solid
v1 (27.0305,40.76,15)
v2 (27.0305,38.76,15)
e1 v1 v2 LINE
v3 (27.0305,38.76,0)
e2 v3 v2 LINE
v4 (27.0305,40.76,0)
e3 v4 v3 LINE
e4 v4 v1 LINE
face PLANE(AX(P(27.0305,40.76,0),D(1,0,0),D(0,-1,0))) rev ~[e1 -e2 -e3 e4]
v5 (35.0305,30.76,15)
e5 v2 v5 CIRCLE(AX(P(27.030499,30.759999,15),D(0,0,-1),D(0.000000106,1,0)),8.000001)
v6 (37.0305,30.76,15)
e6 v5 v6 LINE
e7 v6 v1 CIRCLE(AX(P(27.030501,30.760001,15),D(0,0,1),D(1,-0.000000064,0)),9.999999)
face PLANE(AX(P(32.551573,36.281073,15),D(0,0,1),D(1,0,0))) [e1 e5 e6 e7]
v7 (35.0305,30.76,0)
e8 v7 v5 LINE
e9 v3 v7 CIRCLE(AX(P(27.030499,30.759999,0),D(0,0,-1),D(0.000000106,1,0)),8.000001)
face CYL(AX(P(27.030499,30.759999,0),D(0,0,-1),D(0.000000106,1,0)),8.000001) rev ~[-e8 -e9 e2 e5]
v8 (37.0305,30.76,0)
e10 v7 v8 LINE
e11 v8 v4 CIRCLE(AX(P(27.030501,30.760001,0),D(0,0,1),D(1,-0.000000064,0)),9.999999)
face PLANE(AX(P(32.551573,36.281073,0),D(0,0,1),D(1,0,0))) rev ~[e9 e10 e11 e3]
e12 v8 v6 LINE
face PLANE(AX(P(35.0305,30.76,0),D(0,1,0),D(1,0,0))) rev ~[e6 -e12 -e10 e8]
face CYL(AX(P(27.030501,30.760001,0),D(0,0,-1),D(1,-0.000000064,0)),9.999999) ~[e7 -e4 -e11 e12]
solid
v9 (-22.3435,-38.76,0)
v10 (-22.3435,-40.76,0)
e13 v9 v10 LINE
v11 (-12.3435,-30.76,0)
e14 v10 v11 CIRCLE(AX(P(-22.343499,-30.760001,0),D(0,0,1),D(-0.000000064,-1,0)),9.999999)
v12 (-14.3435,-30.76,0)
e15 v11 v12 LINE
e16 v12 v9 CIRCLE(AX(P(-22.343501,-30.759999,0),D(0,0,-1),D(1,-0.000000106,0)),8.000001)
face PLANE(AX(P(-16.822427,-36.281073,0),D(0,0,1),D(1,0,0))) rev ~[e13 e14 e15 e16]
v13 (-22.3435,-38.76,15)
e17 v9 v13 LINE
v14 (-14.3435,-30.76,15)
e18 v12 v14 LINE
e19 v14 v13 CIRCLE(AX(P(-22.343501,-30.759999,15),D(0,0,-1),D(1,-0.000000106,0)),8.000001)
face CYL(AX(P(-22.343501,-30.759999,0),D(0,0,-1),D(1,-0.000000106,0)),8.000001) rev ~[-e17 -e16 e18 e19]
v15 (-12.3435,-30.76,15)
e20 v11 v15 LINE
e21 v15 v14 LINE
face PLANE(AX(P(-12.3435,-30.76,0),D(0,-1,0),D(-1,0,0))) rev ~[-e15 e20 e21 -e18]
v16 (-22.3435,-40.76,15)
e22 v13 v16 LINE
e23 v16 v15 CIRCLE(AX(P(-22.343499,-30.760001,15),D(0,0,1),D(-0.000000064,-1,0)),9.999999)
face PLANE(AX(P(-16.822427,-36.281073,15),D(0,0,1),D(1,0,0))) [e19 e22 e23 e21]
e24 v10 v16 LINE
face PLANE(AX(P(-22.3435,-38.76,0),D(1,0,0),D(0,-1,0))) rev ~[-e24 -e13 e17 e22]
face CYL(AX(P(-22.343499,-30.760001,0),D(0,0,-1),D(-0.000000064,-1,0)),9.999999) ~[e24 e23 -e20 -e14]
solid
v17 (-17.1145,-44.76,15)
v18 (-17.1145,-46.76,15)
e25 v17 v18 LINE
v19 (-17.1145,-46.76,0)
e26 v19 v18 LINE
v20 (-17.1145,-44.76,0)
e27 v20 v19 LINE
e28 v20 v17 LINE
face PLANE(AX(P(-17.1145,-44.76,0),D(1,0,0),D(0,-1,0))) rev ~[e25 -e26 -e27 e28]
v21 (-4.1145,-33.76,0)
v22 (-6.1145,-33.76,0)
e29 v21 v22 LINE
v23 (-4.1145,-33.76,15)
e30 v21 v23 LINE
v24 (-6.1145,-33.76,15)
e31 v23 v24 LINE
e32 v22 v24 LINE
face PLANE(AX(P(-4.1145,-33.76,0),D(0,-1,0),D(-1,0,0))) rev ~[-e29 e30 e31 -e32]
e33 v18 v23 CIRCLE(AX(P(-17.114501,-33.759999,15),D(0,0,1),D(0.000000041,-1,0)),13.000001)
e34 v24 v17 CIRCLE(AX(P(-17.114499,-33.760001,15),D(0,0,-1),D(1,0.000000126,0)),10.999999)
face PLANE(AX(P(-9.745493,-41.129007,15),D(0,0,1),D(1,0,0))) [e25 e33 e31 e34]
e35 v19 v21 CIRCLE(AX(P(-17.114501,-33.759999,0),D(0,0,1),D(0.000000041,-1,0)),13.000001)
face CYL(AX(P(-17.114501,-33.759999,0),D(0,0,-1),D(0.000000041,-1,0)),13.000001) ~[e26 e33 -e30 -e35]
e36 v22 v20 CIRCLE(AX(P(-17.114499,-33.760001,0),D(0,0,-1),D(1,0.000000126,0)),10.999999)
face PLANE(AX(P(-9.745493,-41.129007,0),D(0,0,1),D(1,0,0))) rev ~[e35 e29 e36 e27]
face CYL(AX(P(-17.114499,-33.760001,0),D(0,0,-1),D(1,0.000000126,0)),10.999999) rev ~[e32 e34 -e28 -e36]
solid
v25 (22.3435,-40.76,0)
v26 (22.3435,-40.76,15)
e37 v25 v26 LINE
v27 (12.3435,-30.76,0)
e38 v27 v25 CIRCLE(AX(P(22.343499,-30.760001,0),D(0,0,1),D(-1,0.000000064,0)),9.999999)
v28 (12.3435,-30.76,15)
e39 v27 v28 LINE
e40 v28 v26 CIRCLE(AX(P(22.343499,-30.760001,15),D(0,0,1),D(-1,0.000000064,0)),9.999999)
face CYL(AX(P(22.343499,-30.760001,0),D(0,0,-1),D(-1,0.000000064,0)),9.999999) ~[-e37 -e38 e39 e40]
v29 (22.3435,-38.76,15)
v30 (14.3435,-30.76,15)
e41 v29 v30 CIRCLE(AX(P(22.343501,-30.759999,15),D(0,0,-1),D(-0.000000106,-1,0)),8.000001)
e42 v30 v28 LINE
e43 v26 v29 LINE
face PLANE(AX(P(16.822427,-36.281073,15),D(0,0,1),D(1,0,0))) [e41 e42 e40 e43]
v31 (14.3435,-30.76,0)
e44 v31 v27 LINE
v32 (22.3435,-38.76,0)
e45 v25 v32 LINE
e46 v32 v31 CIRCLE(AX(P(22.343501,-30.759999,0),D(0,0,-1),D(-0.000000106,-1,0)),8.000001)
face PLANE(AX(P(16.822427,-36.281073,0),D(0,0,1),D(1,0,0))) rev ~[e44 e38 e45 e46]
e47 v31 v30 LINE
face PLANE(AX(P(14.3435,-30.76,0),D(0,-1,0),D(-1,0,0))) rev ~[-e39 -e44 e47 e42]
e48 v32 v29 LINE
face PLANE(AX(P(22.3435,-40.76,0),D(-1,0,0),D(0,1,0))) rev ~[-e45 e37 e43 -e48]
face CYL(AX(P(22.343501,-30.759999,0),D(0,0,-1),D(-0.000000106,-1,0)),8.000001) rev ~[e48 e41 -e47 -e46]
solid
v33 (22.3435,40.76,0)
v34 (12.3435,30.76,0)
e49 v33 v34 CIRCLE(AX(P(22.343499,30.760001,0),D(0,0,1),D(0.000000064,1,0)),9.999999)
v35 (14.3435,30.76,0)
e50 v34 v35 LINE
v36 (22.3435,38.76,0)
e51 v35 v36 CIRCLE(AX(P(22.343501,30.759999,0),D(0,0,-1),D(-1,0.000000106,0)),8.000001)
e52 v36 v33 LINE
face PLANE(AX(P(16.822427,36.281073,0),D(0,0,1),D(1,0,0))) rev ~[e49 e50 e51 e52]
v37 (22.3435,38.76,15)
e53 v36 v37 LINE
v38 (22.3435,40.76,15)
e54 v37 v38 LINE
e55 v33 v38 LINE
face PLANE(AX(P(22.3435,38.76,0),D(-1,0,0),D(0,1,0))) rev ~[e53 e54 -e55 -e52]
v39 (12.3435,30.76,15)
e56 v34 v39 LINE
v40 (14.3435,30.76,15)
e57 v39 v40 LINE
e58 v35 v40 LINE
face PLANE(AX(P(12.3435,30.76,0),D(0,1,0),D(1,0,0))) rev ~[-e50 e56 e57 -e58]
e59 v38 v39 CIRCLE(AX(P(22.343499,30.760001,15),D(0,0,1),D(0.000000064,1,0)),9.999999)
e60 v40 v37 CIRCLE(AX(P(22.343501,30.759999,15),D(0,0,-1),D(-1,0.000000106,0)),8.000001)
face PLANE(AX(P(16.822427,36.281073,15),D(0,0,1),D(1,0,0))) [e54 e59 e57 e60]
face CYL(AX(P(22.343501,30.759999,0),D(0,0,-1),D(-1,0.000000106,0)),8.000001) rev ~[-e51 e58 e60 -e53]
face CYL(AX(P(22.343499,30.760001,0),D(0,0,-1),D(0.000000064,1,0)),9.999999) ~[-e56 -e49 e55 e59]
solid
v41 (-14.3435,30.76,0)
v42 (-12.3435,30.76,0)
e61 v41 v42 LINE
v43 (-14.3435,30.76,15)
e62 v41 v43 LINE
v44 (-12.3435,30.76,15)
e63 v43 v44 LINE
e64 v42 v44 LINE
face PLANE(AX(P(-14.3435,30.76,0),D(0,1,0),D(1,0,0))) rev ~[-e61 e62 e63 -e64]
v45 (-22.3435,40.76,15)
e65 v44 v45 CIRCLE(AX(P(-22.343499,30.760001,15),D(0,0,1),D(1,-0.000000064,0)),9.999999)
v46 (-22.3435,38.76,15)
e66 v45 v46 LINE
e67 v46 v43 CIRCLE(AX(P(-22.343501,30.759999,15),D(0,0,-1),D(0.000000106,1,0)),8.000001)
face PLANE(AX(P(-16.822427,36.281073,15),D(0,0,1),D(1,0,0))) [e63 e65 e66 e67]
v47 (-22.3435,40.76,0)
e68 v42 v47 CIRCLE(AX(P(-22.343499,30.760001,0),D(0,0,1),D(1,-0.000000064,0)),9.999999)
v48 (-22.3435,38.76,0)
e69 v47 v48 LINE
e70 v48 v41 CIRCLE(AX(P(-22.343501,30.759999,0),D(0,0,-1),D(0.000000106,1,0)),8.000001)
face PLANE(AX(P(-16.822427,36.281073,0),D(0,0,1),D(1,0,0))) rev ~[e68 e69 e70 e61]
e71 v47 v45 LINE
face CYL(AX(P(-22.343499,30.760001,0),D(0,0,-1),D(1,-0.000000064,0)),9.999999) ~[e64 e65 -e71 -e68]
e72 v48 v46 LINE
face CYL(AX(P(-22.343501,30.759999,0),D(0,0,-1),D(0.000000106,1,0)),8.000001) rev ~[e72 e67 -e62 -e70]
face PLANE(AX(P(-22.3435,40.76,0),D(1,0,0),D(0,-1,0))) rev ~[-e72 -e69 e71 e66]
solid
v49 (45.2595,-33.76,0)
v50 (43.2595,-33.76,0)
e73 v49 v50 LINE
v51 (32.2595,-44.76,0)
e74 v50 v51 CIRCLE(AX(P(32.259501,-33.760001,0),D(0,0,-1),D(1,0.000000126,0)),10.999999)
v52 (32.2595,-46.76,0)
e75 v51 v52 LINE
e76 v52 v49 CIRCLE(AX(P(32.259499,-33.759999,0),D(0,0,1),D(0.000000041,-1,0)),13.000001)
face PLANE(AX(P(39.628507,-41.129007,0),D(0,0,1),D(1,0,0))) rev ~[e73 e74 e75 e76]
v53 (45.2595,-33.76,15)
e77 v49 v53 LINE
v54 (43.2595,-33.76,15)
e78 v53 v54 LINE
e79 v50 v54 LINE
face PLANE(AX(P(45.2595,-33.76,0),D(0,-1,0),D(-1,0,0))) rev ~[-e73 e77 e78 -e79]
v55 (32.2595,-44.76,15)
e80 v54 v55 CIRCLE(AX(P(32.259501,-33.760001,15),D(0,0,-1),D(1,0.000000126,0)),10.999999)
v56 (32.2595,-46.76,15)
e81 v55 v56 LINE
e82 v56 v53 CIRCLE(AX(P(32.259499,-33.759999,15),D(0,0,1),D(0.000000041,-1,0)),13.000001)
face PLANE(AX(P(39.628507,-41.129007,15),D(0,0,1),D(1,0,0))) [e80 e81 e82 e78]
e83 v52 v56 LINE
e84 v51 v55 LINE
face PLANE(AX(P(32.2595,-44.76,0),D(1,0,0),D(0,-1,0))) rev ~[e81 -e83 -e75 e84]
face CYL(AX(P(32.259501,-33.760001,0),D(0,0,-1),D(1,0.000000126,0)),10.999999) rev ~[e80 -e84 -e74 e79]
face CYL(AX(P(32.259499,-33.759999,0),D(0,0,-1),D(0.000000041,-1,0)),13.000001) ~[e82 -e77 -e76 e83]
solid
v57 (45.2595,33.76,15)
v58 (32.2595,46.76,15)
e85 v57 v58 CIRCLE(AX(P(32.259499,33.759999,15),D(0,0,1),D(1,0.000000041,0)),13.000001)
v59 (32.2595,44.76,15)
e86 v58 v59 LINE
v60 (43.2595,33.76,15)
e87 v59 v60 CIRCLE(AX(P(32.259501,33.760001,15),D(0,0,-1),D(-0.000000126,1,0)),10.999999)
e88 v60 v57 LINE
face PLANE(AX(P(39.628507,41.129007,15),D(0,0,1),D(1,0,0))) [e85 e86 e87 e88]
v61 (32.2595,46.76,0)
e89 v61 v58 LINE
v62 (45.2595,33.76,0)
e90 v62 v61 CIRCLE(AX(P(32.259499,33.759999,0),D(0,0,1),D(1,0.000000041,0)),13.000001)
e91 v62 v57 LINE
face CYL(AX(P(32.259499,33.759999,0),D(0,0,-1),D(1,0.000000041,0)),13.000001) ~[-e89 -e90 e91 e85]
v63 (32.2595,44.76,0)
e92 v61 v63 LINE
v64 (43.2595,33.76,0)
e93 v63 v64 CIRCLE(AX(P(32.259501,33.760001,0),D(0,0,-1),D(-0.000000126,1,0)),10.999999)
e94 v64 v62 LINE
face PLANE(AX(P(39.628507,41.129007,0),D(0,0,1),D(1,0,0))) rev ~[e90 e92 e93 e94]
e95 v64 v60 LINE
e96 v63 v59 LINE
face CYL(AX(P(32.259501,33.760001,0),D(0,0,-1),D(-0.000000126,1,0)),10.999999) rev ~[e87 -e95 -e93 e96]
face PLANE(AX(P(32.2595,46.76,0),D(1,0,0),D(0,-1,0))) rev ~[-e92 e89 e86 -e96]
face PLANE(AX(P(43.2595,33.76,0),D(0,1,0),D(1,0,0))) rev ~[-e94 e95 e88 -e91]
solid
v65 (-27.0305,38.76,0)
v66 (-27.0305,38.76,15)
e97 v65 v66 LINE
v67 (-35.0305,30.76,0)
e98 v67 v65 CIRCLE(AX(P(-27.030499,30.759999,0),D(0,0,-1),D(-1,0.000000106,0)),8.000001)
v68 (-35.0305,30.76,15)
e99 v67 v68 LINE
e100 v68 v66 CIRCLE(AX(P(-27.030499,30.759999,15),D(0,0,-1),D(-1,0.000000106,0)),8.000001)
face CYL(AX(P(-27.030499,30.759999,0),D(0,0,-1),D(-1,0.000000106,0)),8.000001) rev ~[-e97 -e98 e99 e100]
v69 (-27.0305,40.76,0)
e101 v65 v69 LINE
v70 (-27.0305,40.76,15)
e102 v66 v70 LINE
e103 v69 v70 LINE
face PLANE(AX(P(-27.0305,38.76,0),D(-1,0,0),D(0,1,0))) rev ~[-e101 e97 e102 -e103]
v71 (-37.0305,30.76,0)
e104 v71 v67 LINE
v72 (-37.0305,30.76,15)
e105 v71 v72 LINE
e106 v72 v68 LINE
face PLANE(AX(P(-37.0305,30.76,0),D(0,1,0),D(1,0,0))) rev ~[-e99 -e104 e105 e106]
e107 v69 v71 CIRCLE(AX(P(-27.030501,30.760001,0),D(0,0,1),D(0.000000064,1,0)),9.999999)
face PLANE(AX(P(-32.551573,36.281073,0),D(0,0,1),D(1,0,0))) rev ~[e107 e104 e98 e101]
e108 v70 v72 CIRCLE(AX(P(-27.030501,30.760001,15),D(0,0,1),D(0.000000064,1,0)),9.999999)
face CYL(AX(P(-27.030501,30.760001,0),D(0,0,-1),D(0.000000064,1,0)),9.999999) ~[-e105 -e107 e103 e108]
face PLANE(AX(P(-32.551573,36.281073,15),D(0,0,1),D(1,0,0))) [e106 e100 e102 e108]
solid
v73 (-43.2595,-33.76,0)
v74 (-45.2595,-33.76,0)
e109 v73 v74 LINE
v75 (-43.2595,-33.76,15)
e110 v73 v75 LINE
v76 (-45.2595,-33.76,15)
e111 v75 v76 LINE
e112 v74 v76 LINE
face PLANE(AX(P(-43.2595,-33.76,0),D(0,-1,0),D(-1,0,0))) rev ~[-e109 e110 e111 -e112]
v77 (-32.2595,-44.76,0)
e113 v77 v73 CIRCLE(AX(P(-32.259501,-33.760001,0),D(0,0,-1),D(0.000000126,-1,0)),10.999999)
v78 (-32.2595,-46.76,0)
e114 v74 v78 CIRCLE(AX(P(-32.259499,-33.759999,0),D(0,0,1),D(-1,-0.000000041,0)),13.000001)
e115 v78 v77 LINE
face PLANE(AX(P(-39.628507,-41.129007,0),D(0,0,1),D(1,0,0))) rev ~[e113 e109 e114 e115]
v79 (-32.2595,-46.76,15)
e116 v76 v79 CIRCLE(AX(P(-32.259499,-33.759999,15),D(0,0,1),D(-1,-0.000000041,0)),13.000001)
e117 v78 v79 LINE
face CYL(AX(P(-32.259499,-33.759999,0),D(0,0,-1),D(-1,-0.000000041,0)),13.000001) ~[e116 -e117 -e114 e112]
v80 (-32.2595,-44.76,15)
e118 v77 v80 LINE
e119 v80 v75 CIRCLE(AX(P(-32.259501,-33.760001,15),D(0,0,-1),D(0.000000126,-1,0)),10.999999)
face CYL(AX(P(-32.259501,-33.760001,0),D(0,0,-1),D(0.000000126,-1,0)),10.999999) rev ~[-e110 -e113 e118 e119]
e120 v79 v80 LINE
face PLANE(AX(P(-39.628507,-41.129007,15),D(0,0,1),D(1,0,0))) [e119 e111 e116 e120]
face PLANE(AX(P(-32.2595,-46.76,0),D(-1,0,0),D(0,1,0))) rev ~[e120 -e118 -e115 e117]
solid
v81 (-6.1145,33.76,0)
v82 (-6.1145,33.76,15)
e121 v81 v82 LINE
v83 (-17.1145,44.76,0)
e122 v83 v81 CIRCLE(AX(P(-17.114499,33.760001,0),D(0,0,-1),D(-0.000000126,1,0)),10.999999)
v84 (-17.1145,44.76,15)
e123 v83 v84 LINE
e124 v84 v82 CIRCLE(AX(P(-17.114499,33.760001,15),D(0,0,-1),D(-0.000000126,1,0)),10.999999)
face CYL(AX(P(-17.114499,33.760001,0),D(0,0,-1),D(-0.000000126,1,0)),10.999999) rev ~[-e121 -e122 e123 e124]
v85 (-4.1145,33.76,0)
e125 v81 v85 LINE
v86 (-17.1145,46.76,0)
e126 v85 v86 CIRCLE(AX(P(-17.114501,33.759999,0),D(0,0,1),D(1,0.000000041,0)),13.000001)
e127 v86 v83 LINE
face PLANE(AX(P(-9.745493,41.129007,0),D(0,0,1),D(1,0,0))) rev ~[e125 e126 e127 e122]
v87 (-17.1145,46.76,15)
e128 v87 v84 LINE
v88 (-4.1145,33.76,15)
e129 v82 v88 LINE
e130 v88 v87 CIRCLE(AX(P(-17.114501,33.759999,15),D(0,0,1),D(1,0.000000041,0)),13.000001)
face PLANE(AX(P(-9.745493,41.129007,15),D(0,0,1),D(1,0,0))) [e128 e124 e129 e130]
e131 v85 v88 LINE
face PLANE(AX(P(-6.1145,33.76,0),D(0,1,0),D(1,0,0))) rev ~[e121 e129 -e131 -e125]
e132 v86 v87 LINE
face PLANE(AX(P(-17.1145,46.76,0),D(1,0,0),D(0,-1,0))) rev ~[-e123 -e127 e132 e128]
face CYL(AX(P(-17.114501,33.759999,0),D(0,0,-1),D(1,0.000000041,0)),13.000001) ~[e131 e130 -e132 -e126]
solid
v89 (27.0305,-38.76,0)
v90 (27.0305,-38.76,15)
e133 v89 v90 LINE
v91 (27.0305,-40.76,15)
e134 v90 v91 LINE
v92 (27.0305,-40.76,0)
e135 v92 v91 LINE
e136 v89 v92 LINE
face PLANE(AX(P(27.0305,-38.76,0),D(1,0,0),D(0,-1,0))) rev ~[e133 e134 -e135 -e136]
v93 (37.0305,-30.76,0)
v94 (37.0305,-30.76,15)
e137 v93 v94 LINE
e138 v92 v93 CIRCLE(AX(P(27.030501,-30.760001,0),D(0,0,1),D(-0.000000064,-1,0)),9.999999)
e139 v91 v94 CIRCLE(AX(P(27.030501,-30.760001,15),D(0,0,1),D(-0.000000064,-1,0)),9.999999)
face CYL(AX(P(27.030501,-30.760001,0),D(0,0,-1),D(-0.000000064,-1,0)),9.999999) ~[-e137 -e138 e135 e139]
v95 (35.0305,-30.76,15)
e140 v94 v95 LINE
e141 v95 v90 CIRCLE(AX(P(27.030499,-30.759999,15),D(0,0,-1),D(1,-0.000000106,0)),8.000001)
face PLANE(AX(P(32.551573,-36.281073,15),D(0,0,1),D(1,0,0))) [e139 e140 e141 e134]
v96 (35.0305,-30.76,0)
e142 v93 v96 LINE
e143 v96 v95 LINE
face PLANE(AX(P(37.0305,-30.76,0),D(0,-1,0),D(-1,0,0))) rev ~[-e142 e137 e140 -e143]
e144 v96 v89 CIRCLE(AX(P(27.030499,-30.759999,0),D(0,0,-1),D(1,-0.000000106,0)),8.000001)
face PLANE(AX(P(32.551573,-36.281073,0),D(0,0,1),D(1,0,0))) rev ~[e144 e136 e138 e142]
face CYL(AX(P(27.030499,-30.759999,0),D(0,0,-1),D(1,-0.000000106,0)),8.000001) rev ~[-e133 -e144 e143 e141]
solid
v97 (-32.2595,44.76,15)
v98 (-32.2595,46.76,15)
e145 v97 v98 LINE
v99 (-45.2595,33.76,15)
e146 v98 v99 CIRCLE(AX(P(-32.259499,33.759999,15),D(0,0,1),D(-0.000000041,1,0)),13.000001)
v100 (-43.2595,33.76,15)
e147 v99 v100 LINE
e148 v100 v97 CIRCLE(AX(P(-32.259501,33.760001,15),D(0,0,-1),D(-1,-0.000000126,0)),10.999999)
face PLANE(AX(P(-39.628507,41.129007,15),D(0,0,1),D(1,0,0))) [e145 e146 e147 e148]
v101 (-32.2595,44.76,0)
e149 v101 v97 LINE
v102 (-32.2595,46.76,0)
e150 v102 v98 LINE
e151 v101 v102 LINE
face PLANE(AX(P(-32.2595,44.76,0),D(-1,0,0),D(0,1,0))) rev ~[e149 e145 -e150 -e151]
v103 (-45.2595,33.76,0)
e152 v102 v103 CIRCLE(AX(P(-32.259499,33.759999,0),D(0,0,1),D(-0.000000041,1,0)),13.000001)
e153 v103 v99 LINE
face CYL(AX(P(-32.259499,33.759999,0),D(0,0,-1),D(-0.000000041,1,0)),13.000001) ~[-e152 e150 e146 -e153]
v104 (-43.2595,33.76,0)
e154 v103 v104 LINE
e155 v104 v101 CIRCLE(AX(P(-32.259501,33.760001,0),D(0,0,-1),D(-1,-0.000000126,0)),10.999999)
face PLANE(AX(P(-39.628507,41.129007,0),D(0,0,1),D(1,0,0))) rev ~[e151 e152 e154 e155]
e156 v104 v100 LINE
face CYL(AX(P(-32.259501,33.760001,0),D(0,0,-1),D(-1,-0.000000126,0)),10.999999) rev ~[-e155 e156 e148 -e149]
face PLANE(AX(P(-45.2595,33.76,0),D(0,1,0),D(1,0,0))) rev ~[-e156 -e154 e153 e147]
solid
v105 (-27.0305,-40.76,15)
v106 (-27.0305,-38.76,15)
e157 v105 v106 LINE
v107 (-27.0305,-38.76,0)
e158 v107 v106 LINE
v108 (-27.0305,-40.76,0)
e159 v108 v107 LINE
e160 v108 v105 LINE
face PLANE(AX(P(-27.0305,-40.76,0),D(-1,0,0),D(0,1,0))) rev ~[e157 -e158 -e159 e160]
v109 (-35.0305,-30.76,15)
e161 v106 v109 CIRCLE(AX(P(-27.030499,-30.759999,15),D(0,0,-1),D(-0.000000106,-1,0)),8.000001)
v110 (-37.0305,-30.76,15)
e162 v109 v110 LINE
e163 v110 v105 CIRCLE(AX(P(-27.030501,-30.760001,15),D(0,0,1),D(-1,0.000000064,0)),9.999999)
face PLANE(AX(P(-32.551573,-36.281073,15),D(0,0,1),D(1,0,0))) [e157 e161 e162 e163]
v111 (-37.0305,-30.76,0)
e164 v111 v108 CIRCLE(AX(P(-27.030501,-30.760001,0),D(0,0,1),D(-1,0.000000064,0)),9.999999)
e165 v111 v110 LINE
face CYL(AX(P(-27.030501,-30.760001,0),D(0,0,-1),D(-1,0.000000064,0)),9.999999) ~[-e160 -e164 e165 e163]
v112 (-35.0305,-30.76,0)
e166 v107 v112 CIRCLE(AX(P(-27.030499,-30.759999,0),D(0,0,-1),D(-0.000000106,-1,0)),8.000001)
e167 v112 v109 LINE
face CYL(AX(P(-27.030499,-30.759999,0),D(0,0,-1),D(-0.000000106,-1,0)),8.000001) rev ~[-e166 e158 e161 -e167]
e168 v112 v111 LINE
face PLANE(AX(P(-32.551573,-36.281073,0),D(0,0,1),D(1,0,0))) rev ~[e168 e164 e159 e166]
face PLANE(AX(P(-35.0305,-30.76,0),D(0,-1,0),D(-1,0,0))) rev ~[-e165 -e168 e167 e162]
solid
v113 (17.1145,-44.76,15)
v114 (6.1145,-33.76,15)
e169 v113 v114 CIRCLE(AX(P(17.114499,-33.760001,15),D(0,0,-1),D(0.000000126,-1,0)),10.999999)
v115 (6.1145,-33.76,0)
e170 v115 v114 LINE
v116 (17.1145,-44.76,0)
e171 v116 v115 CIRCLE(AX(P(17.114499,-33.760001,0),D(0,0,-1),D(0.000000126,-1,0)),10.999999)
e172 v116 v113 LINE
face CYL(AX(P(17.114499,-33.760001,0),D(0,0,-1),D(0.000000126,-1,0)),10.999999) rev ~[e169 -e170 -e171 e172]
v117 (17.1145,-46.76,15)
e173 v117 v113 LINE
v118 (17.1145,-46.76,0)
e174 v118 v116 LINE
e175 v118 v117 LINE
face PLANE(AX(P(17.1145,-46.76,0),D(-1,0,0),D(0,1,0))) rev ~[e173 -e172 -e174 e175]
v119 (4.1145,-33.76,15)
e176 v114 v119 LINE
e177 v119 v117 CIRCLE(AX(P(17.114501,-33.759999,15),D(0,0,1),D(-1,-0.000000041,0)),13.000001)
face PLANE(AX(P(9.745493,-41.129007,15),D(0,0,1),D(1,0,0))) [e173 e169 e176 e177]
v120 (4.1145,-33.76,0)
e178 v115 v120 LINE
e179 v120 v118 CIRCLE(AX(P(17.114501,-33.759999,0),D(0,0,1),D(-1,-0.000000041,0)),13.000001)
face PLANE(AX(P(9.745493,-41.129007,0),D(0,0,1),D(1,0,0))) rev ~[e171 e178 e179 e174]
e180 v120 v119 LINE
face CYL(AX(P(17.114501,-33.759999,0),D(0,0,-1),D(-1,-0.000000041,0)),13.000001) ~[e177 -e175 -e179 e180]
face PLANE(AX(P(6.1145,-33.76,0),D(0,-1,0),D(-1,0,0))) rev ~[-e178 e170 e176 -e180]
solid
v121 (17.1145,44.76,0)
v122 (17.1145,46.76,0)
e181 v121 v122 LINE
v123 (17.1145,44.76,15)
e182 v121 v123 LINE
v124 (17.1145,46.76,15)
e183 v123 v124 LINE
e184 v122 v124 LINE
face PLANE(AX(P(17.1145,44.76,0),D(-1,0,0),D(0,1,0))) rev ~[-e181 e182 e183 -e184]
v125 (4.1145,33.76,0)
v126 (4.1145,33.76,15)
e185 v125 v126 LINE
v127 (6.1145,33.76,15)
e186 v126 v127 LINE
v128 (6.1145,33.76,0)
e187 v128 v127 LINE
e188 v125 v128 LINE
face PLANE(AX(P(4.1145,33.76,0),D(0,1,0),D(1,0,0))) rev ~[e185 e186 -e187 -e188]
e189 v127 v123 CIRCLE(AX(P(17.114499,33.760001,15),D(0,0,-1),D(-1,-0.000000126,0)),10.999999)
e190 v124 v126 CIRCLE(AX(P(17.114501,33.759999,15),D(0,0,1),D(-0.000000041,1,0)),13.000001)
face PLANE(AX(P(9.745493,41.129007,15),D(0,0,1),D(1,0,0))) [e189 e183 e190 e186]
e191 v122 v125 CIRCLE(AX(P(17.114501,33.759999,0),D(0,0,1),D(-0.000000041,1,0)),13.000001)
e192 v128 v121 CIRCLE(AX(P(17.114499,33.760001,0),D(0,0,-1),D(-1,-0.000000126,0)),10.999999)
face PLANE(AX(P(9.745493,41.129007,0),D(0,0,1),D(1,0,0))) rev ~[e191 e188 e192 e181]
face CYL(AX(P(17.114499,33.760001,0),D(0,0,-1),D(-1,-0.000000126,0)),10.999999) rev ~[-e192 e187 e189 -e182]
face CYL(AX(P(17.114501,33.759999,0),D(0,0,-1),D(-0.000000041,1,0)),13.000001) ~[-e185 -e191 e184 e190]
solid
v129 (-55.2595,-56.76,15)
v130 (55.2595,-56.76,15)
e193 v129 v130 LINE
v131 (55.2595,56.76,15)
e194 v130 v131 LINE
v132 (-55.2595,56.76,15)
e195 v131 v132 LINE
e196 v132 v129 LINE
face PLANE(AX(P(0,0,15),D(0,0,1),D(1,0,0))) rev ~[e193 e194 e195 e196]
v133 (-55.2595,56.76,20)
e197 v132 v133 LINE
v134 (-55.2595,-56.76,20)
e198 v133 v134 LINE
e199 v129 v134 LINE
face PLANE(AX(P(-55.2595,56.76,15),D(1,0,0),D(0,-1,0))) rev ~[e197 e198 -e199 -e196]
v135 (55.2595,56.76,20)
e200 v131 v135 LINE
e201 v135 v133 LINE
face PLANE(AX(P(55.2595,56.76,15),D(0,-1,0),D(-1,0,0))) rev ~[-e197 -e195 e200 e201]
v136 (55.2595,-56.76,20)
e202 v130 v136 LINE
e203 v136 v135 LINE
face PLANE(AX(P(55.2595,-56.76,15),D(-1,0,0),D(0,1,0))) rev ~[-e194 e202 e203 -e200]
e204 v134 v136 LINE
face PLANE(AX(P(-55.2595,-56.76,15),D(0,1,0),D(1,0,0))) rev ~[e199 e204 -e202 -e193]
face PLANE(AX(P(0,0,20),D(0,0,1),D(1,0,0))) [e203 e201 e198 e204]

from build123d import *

# Parameters (mm, degrees)
F1_DEPTH = 15
F3_DEPTH = 5


with BuildPart() as f1:
    # F0 (on Top) → F1 (new body)
    with BuildSketch(Plane.XY):
        with BuildLine():
            Line((22.3435, 38.76), (22.3435, 40.76))
            ThreePointArc((22.3435, 40.76), (15.272432, 37.831068), (12.3435, 30.76))
            Line((12.3435, 30.76), (14.3435, 30.76))
            ThreePointArc((14.3435, 30.76), (16.686646, 36.416854), (22.3435, 38.76))
        make_face()
        with BuildLine():
            Line((35.0305, 30.76), (37.0305, 30.76))
            ThreePointArc((37.0305, 30.76), (34.101568, 37.831068), (27.0305, 40.76))
            Line((27.0305, 40.76), (27.0305, 38.76))
            ThreePointArc((27.0305, 38.76), (32.687354, 36.416854), (35.0305, 30.76))
        make_face()
        with BuildLine():
            Line((43.2595, 33.76), (45.2595, 33.76))
            ThreePointArc((45.2595, 33.76), (41.451888, 42.952388), (32.2595, 46.76))
            Line((32.2595, 46.76), (32.2595, 44.76))
            ThreePointArc((32.2595, 44.76), (40.037675, 41.538175), (43.2595, 33.76))
        make_face()
        with BuildLine():
            Line((17.1145, 44.76), (17.1145, 46.76))
            ThreePointArc((17.1145, 46.76), (7.922112, 42.952388), (4.1145, 33.76))
            Line((4.1145, 33.76), (6.1145, 33.76))
            ThreePointArc((6.1145, 33.76), (9.336325, 41.538175), (17.1145, 44.76))
        make_face()
        with BuildLine():
            Line((6.1145, -33.76), (4.1145, -33.76))
            ThreePointArc((4.1145, -33.76), (7.922112, -42.952388), (17.1145, -46.76))
            Line((17.1145, -46.76), (17.1145, -44.76))
            ThreePointArc((17.1145, -44.76), (9.336325, -41.538175), (6.1145, -33.76))
        make_face()
        with BuildLine():
            Line((14.3435, -30.76), (12.3435, -30.76))
            ThreePointArc((12.3435, -30.76), (15.272432, -37.831068), (22.3435, -40.76))
            Line((22.3435, -40.76), (22.3435, -38.76))
            ThreePointArc((22.3435, -38.76), (16.686646, -36.416854), (14.3435, -30.76))
        make_face()
        with BuildLine():
            Line((27.0305, -38.76), (27.0305, -40.76))
            ThreePointArc((27.0305, -40.76), (34.101568, -37.831068), (37.0305, -30.76))
            Line((37.0305, -30.76), (35.0305, -30.76))
            ThreePointArc((35.0305, -30.76), (32.687354, -36.416854), (27.0305, -38.76))
        make_face()
        with BuildLine():
            Line((45.2595, -33.76), (43.2595, -33.76))
            ThreePointArc((43.2595, -33.76), (40.037675, -41.538175), (32.2595, -44.76))
            Line((32.2595, -44.76), (32.2595, -46.76))
            ThreePointArc((32.2595, -46.76), (41.451888, -42.952388), (45.2595, -33.76))
        make_face()
        with BuildLine():
            ThreePointArc((-4.1145, 33.76), (-7.922112, 42.952388), (-17.1145, 46.76))
            Line((-17.1145, 46.76), (-17.1145, 44.76))
            ThreePointArc((-17.1145, 44.76), (-9.336325, 41.538175), (-6.1145, 33.76))
            Line((-6.1145, 33.76), (-4.1145, 33.76))
        make_face()
        with BuildLine():
            Line((-14.3435, 30.76), (-12.3435, 30.76))
            ThreePointArc((-12.3435, 30.76), (-15.272432, 37.831068), (-22.3435, 40.76))
            Line((-22.3435, 40.76), (-22.3435, 38.76))
            ThreePointArc((-22.3435, 38.76), (-16.686646, 36.416854), (-14.3435, 30.76))
        make_face()
        with BuildLine():
            Line((-27.0305, 38.76), (-27.0305, 40.76))
            ThreePointArc((-27.0305, 40.76), (-34.101568, 37.831068), (-37.0305, 30.76))
            Line((-37.0305, 30.76), (-35.0305, 30.76))
            ThreePointArc((-35.0305, 30.76), (-32.687354, 36.416854), (-27.0305, 38.76))
        make_face()
        with BuildLine():
            ThreePointArc((-43.2595, 33.76), (-40.037675, 41.538175), (-32.2595, 44.76))
            Line((-32.2595, 44.76), (-32.2595, 46.76))
            ThreePointArc((-32.2595, 46.76), (-41.451888, 42.952388), (-45.2595, 33.76))
            Line((-45.2595, 33.76), (-43.2595, 33.76))
        make_face()
        with BuildLine():
            ThreePointArc((-17.1145, -46.76), (-7.922112, -42.952388), (-4.1145, -33.76))
            Line((-4.1145, -33.76), (-6.1145, -33.76))
            ThreePointArc((-6.1145, -33.76), (-9.336325, -41.538175), (-17.1145, -44.76))
            Line((-17.1145, -44.76), (-17.1145, -46.76))
        make_face()
        with BuildLine():
            Line((-22.3435, -38.76), (-22.3435, -40.76))
            ThreePointArc((-22.3435, -40.76), (-15.272432, -37.831068), (-12.3435, -30.76))
            Line((-12.3435, -30.76), (-14.3435, -30.76))
            ThreePointArc((-14.3435, -30.76), (-16.686646, -36.416854), (-22.3435, -38.76))
        make_face()
        with BuildLine():
            ThreePointArc((-37.0305, -30.76), (-34.101568, -37.831068), (-27.0305, -40.76))
            Line((-27.0305, -40.76), (-27.0305, -38.76))
            ThreePointArc((-27.0305, -38.76), (-32.687354, -36.416854), (-35.0305, -30.76))
            Line((-35.0305, -30.76), (-37.0305, -30.76))
        make_face()
        with BuildLine():
            Line((-32.2595, -46.76), (-32.2595, -44.76))
            ThreePointArc((-32.2595, -44.76), (-40.037675, -41.538175), (-43.2595, -33.76))
            Line((-43.2595, -33.76), (-45.2595, -33.76))
            ThreePointArc((-45.2595, -33.76), (-41.451888, -42.952388), (-32.2595, -46.76))
        make_face()
    extrude(amount=F1_DEPTH)


with BuildPart() as f3:
    # F2 (on face) → F3 (new body)
    with BuildSketch(Plane.XY.offset(15)):
        Polygon((55.2595, 0), (55.2595, 56.76), (0, 56.76), (-55.2595, 56.76), (-55.2595, 0), (-55.2595, -56.76), (0, -56.76), (55.2595, -56.76), align=None)
    extrude(amount=F3_DEPTH)


solid = Compound([f1.part, f3.part])
